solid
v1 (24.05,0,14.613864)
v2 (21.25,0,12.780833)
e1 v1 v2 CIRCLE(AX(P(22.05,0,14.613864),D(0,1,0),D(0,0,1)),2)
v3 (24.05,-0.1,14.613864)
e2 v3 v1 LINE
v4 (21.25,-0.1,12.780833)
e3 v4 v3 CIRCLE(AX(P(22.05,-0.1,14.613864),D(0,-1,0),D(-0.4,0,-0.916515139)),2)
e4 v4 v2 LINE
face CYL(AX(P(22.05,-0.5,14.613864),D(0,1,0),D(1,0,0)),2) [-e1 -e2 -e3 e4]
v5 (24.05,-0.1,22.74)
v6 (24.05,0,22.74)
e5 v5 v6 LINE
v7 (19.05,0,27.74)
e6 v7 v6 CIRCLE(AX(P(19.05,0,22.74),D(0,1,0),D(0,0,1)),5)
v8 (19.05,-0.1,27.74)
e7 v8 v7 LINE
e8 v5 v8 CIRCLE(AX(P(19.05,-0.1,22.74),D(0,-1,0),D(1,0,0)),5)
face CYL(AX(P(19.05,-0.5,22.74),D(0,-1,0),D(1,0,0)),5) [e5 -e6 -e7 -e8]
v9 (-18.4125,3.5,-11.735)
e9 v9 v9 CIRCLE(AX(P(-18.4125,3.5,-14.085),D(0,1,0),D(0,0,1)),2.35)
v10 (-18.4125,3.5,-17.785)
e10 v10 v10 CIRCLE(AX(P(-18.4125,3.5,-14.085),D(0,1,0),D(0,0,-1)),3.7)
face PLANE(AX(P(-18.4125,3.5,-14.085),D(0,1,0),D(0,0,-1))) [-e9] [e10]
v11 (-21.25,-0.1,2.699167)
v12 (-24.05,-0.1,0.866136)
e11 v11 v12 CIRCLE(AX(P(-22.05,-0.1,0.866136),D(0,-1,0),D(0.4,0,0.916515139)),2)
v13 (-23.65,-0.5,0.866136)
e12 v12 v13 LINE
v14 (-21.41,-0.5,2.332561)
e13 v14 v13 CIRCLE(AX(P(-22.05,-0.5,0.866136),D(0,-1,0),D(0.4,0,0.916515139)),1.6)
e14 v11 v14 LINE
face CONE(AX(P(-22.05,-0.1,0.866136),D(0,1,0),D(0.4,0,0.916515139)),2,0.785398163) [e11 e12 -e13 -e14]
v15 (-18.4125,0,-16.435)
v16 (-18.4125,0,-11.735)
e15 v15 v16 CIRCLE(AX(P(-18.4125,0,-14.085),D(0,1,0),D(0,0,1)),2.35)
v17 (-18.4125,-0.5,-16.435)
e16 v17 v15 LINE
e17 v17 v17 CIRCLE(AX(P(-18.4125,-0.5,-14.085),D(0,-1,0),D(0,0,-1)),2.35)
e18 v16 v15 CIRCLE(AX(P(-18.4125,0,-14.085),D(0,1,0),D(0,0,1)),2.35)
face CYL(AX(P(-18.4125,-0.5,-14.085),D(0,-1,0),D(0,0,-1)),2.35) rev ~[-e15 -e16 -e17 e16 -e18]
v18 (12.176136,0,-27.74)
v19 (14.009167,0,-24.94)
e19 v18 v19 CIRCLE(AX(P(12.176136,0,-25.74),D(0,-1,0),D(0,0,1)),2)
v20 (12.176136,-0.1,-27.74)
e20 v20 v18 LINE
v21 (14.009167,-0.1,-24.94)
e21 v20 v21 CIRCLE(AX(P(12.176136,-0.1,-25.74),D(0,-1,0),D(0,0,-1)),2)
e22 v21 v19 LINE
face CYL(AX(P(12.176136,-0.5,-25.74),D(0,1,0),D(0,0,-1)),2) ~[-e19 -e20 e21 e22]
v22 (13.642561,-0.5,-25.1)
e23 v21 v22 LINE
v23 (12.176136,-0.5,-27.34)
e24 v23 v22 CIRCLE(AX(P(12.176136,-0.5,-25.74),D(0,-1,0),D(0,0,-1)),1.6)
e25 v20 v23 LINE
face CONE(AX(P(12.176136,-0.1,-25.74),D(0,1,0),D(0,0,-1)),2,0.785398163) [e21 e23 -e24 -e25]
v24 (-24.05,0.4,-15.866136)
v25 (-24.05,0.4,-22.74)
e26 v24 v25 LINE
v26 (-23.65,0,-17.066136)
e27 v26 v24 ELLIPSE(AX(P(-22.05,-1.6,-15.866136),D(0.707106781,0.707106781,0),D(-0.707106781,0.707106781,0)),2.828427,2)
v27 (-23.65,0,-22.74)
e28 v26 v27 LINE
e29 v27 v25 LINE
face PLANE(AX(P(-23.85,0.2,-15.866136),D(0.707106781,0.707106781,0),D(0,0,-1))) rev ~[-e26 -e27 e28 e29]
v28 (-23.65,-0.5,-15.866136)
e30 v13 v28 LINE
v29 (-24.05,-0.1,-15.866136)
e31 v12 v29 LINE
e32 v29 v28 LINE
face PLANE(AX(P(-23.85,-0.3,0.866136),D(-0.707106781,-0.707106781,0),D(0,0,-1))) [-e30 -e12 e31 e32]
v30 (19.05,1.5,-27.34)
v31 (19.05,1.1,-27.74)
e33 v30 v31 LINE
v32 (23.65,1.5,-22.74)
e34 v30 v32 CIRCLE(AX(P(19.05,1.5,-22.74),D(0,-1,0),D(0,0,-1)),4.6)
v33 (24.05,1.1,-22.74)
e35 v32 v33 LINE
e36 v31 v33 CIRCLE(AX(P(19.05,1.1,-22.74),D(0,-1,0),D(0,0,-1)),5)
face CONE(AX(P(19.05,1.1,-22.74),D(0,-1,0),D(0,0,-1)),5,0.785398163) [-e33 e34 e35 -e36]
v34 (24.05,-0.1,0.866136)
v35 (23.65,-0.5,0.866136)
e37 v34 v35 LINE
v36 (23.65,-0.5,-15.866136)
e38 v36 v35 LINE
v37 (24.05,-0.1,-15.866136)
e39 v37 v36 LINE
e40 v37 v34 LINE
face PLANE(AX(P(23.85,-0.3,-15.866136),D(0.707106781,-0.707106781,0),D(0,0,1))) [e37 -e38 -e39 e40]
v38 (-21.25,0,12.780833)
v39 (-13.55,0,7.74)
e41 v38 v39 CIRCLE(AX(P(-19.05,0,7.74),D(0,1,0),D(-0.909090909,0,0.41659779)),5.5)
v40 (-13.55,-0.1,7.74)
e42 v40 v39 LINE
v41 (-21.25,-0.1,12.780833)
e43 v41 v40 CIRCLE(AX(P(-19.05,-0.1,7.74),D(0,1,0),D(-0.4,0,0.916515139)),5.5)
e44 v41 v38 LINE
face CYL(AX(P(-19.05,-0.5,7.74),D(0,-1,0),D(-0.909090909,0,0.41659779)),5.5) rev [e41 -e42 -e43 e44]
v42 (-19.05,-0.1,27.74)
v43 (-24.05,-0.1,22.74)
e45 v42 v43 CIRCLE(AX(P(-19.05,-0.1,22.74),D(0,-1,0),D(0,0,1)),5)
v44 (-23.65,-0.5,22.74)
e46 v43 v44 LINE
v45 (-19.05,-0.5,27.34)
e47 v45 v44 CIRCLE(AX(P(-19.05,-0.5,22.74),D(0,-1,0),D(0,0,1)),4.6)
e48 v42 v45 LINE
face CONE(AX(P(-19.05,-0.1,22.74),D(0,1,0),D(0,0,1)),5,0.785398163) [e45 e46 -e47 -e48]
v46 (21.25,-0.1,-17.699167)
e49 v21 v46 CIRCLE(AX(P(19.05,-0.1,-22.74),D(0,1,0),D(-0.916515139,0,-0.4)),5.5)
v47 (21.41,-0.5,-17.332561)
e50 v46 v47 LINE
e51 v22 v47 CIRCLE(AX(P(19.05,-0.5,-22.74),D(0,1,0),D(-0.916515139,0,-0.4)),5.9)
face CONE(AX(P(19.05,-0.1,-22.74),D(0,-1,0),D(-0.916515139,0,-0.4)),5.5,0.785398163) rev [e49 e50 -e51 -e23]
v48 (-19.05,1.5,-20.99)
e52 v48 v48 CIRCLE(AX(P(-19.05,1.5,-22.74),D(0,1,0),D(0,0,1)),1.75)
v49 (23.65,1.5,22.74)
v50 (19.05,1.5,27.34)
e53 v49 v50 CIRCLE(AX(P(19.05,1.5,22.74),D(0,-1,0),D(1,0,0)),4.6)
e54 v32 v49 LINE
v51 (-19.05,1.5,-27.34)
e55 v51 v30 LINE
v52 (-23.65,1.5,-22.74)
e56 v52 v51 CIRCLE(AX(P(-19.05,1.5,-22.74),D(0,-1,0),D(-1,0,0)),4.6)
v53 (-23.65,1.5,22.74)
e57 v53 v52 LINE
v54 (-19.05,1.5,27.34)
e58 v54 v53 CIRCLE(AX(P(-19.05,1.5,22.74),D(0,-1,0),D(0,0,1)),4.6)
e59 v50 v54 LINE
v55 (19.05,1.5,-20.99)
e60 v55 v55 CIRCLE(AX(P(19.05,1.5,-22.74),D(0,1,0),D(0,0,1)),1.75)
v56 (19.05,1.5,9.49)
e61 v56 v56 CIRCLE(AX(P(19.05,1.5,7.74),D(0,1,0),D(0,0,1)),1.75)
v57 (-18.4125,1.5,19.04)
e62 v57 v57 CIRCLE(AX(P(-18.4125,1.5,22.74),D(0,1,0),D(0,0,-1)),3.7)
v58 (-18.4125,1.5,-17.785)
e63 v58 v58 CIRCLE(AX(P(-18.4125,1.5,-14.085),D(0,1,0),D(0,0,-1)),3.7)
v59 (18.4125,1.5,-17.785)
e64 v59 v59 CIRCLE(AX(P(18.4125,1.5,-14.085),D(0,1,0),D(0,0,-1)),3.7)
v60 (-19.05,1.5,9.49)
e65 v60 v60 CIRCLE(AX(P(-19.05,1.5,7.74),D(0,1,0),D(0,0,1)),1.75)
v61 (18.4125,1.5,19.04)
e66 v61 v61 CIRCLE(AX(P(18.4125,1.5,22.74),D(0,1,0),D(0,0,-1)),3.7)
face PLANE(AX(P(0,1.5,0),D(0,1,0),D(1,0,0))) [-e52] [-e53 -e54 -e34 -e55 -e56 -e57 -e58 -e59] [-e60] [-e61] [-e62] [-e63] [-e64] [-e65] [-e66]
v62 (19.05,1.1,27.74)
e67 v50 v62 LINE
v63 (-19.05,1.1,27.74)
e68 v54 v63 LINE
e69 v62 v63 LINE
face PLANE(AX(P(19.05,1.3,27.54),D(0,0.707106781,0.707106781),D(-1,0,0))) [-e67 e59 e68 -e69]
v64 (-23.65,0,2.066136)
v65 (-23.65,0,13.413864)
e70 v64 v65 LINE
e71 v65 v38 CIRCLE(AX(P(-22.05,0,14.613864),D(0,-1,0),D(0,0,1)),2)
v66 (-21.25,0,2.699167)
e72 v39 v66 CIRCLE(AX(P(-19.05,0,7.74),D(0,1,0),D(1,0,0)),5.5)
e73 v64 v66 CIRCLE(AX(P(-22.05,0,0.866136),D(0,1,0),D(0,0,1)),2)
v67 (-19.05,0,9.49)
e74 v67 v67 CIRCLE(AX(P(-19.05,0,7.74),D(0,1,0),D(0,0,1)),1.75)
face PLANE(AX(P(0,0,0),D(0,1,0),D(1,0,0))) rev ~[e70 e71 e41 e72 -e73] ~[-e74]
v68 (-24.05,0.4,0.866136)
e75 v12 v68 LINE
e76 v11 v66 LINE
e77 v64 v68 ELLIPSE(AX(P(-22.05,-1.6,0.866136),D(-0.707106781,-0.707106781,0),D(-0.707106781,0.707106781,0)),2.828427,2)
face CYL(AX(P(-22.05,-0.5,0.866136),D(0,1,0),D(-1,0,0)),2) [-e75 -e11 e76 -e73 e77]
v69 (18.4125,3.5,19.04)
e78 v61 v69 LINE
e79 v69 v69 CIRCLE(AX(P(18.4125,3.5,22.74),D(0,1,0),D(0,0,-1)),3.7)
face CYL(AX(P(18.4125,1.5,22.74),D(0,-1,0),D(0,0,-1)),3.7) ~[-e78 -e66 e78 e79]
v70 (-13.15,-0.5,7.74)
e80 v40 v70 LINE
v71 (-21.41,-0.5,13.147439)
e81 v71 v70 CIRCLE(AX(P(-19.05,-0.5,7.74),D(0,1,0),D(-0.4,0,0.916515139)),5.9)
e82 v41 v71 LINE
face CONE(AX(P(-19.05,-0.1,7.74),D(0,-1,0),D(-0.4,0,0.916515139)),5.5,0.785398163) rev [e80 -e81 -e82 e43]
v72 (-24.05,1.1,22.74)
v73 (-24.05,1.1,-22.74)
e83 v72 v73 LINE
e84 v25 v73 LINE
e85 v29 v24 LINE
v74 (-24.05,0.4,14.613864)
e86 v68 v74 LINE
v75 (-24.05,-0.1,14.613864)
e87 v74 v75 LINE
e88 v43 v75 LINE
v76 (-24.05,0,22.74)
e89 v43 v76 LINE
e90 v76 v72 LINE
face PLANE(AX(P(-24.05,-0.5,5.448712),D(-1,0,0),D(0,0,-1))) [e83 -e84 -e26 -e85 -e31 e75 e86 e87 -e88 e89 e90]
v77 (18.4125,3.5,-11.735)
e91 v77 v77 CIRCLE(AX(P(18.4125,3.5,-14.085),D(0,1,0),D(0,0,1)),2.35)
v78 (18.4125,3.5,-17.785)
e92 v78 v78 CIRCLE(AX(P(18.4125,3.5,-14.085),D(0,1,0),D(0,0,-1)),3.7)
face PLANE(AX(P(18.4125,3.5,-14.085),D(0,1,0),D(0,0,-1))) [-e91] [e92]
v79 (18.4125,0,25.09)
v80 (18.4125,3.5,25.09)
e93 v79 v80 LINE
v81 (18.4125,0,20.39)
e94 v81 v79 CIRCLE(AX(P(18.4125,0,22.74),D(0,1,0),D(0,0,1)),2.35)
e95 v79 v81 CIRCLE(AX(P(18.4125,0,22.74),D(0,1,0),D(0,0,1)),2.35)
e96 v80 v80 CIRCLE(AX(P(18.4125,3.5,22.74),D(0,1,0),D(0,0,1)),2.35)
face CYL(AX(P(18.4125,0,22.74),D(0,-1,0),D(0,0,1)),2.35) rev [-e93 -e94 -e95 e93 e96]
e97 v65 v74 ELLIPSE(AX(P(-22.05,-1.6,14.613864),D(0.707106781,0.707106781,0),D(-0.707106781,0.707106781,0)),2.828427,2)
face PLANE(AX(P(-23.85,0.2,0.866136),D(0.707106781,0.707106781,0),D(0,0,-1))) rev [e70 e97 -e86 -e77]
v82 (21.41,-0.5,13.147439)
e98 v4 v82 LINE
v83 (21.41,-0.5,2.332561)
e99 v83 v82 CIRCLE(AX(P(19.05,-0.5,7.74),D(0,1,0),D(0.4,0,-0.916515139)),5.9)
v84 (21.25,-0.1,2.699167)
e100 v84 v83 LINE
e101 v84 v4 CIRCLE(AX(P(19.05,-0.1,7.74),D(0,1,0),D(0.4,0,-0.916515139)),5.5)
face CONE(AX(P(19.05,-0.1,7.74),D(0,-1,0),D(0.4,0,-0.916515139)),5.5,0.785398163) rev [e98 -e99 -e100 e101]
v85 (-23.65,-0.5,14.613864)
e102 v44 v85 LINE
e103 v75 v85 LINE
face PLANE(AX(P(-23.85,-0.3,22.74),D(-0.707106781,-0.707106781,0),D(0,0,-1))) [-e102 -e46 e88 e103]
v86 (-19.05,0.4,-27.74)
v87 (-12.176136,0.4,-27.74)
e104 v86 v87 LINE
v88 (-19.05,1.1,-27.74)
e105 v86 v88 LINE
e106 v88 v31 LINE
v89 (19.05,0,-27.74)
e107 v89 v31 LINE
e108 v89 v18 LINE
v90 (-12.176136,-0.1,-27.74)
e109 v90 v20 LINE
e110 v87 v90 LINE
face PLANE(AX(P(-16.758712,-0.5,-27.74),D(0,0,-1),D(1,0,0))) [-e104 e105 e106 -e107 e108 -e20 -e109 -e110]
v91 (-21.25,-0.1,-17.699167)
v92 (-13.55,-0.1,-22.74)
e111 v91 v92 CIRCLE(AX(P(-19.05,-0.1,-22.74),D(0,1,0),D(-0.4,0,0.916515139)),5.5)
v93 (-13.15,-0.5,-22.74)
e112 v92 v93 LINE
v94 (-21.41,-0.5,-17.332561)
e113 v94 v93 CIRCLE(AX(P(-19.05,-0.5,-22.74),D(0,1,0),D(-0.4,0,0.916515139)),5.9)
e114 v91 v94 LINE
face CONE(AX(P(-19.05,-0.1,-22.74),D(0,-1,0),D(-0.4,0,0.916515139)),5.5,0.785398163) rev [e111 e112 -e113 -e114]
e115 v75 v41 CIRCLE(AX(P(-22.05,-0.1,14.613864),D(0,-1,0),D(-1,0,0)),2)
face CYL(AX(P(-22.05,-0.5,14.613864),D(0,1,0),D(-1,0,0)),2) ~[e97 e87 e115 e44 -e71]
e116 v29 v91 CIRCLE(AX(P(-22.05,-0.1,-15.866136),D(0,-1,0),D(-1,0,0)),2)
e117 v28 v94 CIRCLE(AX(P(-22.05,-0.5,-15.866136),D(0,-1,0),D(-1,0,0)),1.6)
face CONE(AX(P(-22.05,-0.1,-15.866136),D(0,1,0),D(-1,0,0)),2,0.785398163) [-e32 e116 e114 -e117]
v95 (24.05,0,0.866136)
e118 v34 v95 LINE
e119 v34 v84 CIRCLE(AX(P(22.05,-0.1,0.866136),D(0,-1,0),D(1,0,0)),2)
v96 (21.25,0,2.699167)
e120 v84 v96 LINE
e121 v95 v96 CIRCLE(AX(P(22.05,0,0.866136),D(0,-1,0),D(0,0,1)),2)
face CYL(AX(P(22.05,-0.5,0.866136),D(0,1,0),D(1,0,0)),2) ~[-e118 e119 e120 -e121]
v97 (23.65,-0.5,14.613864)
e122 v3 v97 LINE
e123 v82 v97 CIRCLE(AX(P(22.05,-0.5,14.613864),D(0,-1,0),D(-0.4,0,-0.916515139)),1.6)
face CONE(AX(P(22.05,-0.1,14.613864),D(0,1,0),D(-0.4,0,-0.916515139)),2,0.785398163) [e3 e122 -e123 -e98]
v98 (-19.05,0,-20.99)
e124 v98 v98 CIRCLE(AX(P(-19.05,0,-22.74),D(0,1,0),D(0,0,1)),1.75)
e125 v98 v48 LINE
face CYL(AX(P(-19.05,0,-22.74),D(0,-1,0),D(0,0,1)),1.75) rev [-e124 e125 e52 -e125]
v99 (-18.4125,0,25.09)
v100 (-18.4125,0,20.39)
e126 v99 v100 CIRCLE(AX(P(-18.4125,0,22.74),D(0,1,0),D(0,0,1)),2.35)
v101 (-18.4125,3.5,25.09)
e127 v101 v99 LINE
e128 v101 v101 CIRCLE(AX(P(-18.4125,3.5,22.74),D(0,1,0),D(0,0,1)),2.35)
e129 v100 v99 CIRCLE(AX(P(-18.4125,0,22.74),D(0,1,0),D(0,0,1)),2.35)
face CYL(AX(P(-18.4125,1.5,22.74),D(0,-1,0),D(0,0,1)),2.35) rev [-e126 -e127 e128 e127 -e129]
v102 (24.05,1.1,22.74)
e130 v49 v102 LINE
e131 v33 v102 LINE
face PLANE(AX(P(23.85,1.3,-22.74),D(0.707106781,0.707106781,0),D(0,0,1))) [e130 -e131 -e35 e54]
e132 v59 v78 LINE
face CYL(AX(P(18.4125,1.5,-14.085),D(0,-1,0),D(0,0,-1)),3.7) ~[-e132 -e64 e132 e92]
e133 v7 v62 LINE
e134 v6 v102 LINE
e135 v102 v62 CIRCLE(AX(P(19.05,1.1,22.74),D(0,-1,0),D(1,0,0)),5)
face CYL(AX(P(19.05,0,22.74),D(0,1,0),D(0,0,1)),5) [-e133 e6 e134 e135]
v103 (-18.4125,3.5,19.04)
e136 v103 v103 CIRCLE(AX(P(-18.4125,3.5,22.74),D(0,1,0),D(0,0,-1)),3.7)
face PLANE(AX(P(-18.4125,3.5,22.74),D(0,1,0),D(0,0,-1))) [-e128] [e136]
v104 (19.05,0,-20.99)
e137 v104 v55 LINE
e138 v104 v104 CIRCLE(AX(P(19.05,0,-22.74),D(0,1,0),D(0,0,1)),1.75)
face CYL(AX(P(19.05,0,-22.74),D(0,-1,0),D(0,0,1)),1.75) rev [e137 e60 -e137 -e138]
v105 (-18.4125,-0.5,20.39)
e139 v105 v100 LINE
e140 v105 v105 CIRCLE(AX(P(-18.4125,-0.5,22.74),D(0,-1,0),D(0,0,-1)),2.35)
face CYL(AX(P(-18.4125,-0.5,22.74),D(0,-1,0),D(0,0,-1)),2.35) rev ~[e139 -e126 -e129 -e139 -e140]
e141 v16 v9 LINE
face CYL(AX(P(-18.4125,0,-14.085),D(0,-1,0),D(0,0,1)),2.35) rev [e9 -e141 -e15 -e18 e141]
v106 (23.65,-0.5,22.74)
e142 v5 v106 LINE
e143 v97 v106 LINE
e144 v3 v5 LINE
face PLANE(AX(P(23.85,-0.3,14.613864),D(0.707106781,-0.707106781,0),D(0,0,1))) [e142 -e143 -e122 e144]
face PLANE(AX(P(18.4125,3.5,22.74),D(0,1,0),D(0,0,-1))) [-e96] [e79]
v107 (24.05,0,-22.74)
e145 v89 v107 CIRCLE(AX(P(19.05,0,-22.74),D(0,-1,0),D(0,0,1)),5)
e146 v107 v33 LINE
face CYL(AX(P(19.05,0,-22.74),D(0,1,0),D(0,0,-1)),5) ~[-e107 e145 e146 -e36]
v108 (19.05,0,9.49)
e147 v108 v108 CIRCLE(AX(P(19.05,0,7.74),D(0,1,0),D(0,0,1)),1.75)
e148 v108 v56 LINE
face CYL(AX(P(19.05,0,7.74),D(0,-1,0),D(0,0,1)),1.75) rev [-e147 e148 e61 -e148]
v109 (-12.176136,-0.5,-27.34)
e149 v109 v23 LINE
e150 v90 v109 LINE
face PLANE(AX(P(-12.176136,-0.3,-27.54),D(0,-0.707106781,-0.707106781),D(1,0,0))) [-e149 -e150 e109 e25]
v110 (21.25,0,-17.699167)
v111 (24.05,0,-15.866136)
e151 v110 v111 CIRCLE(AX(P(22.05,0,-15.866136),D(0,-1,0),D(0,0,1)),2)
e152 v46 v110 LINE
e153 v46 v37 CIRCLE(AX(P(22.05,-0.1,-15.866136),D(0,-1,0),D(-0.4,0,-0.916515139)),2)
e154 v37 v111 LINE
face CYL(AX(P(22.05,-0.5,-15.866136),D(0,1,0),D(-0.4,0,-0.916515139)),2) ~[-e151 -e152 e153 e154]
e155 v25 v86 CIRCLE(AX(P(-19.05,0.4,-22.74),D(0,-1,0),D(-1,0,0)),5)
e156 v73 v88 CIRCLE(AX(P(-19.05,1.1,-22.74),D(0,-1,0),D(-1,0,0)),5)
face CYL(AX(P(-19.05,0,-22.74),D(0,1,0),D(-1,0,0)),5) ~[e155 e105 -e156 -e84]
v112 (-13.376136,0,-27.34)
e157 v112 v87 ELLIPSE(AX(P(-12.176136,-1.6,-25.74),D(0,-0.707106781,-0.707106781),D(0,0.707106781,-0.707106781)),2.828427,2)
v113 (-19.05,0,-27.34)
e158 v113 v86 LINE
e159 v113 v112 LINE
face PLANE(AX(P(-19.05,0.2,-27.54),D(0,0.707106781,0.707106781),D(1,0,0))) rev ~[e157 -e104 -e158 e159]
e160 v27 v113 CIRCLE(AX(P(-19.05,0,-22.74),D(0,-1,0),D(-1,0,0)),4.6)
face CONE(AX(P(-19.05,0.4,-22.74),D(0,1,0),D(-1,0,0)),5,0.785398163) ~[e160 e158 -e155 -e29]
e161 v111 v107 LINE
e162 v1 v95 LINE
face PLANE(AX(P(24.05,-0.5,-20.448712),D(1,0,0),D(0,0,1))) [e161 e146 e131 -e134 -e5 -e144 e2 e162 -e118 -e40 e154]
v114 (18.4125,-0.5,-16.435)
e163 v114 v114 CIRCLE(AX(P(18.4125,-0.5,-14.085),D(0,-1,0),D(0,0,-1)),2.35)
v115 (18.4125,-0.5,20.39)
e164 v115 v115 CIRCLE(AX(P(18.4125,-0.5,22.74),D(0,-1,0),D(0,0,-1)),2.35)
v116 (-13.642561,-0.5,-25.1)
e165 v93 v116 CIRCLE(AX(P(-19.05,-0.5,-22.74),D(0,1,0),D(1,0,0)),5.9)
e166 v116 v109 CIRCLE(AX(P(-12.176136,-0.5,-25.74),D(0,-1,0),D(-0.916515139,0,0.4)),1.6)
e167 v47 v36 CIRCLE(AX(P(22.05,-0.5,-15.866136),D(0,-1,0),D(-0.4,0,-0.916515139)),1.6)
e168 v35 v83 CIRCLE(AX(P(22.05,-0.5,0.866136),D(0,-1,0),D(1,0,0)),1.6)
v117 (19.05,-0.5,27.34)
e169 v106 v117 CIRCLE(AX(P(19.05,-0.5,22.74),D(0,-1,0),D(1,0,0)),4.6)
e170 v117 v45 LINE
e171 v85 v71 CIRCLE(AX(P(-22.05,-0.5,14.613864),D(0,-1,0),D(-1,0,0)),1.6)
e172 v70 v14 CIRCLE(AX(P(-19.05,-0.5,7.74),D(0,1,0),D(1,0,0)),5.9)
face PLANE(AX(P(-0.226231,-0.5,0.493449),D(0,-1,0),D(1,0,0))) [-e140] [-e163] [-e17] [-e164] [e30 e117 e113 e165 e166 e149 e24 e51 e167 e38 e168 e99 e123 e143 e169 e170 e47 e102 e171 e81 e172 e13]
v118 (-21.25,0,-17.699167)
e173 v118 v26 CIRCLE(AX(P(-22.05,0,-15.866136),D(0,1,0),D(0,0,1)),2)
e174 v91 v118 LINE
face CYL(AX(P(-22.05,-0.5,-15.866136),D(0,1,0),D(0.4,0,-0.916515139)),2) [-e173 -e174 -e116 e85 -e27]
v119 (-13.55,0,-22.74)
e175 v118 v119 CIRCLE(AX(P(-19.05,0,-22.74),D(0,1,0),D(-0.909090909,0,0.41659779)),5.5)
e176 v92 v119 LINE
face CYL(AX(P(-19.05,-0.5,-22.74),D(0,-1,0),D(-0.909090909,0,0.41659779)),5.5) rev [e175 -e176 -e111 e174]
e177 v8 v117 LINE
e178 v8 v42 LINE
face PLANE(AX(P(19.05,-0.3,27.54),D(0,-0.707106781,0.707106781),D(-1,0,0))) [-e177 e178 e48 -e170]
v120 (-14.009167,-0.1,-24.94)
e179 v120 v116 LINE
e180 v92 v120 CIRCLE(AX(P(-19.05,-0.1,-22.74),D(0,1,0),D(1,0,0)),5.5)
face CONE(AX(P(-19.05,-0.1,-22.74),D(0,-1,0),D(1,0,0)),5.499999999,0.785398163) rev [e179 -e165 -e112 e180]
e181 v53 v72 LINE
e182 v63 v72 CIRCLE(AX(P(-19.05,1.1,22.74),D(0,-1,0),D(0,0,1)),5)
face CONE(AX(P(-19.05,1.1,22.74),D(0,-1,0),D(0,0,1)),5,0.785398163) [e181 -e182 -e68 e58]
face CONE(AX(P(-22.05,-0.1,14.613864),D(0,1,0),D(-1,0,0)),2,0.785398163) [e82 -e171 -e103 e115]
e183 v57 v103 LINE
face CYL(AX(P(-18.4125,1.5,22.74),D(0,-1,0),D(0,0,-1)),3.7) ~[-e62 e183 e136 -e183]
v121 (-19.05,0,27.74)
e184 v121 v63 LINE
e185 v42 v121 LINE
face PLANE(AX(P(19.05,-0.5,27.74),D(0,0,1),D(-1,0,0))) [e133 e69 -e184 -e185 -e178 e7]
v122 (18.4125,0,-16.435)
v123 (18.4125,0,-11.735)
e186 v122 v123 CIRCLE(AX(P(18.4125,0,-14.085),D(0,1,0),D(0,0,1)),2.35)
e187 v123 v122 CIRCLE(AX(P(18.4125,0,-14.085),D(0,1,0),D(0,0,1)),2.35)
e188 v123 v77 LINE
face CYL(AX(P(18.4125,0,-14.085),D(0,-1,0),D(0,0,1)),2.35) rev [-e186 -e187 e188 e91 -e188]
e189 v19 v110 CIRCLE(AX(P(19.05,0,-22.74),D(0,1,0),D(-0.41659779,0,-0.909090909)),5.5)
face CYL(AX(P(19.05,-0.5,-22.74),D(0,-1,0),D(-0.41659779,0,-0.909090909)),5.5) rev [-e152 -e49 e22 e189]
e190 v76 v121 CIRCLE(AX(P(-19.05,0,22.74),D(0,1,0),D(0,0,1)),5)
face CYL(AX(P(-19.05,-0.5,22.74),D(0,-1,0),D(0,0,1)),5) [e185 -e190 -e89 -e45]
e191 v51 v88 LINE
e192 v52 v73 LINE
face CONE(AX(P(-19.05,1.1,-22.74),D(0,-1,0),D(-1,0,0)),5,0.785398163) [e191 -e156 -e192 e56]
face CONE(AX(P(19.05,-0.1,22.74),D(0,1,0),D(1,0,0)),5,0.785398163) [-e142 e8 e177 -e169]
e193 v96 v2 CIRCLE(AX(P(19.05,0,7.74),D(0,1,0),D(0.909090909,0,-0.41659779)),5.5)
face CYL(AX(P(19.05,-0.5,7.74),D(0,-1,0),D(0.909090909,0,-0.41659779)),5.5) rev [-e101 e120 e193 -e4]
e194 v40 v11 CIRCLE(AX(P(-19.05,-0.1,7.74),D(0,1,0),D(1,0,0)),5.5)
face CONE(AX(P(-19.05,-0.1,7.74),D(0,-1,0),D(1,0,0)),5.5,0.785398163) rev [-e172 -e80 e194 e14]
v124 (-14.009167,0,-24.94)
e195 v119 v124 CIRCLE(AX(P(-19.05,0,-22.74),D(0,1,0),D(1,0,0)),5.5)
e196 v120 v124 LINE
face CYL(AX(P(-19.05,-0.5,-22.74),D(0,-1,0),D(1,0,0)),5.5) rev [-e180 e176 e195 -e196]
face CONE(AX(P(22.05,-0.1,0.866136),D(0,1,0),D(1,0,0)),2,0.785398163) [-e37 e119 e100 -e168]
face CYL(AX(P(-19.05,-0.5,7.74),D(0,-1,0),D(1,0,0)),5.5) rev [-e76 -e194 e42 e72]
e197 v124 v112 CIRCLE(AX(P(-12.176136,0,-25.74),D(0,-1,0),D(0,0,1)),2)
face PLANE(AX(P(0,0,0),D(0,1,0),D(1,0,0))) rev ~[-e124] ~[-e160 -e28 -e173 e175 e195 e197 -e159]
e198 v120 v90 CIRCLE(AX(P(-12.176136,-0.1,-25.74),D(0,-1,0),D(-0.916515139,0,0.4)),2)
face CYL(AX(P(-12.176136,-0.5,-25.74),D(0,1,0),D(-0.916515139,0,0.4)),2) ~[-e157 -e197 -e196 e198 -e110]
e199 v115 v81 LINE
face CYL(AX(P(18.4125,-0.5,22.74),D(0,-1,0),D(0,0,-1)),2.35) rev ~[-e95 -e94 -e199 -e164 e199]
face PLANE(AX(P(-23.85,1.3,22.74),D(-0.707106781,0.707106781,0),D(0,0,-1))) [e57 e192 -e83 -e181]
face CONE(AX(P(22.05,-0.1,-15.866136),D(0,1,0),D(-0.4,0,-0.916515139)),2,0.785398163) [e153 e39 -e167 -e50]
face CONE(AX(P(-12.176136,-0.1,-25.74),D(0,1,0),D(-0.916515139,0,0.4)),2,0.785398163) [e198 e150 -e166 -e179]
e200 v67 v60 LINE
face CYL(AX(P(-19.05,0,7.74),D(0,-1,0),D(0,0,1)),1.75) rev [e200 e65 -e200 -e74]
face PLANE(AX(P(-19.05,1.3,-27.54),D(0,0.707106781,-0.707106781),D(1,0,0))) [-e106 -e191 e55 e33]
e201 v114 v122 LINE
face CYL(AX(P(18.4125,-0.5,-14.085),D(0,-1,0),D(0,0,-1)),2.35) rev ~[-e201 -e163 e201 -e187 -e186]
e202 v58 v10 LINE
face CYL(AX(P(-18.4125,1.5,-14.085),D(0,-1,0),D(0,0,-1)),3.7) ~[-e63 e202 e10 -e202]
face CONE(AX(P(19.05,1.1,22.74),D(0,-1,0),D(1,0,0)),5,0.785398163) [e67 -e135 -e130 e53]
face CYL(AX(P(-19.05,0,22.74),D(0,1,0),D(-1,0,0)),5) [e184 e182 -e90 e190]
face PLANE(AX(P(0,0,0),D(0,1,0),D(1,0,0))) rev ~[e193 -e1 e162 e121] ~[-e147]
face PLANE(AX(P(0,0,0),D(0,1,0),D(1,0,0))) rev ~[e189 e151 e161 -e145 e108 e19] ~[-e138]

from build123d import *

# Parameters (mm, degrees)
SKETCH1_W           = 48.1
SKETCH1_H           = 55.48
SKETCH1_R           = 1.75
SKETCH1_R_2         = 2.35
BOSS_EXTRUDE1_DEPTH = 1.5
FILLET1_R           = 5
SKETCH4_R           = 3.7
SKETCH4_R_2         = 2.35
BOSS_EXTRUDE3_DEPTH = 2
BOSS_EXTRUDE4_START = 0.5
SKETCH5_R           = 2.35
BOSS_EXTRUDE4_DEPTH = 0.5
FILLET2_R           = 2
CHAMFER2_SIZE       = 0.4


with BuildPart() as part:
    # Sketch1 → Boss-Extrude1 (new body)
    with BuildSketch(Plane(origin=(0, 0, 0), x_dir=(1, 0, 0), z_dir=(0, 1, 0))):
        Rectangle(SKETCH1_W, SKETCH1_H)
        with Locations(Location((19.05, 22.74, 0), (0, 0, 270))):
            Circle(SKETCH1_R, mode=Mode.SUBTRACT)
        with Locations(Location((-19.05, 22.74, 0), (0, 0, 270))):
            Circle(SKETCH1_R, mode=Mode.SUBTRACT)
        with Locations(Location((-19.05, -7.74, 0), (0, 0, 270))):
            Circle(SKETCH1_R, mode=Mode.SUBTRACT)
        with Locations(Location((19.05, -7.74, 0), (0, 0, 270))):
            Circle(SKETCH1_R, mode=Mode.SUBTRACT)
        with Locations(Location((18.4125, -22.74, 0), (0, 0, 270))):
            Circle(SKETCH1_R_2, mode=Mode.SUBTRACT)
        with Locations(Location((-18.4125, -22.74, 0), (0, 0, 270))):
            Circle(SKETCH1_R_2, mode=Mode.SUBTRACT)
        with Locations(Location((-18.4125, 14.085, 0), (0, 0, 270))):
            Circle(SKETCH1_R_2, mode=Mode.SUBTRACT)
        with Locations(Location((18.4125, 14.085, 0), (0, 0, 270))):
            Circle(SKETCH1_R_2, mode=Mode.SUBTRACT)
    extrude(amount=BOSS_EXTRUDE1_DEPTH)

    # Fillet1
    fillet1_edges = [part.edges().sort_by_distance(p)[0] for p in [
        (24.05, 0.75, 27.74),
        (-24.05, 0.75, 27.74),
        (-24.05, 0.75, -27.74),
        (24.05, 0.75, -27.74),
    ]]
    fillet(fillet1_edges, radius=FILLET1_R)

    # Sketch4 → Boss-Extrude3 (add)
    # profile 1 of 4: a face of its own
    with BuildSketch(Plane(origin=(0, 1.5, 0), x_dir=(1, 0, 0), z_dir=(0, 1, 0))):
        with Locations(Location((-18.4125, -22.74, 0), (0, 0, 90))):
            Circle(SKETCH4_R)
        with Locations(Location((-18.4125, -22.74, 0), (0, 0, 270))):
            Circle(SKETCH4_R_2, mode=Mode.SUBTRACT)
    # profile 2 of 4: a face of its own
    with BuildSketch(Plane(origin=(0, 1.5, 0), x_dir=(1, 0, 0), z_dir=(0, 1, 0))):
        with Locations(Location((18.4125, -22.74, 0), (0, 0, 90))):
            Circle(SKETCH4_R)
        with Locations(Location((18.4125, -22.74, 0), (0, 0, 270))):
            Circle(SKETCH4_R_2, mode=Mode.SUBTRACT)
    # profile 3 of 4: a face of its own
    with BuildSketch(Plane(origin=(0, 1.5, 0), x_dir=(1, 0, 0), z_dir=(0, 1, 0))):
        with Locations(Location((18.4125, 14.085, 0), (0, 0, 90))):
            Circle(SKETCH4_R)
        with Locations(Location((18.4125, 14.085, 0), (0, 0, 270))):
            Circle(SKETCH4_R_2, mode=Mode.SUBTRACT)
    # profile 4 of 4: a face of its own
    with BuildSketch(Plane(origin=(0, 1.5, 0), x_dir=(1, 0, 0), z_dir=(0, 1, 0))):
        with Locations(Location((-18.4125, 14.085, 0), (0, 0, 90))):
            Circle(SKETCH4_R)
        with Locations(Location((-18.4125, 14.085, 0), (0, 0, 270))):
            Circle(SKETCH4_R_2, mode=Mode.SUBTRACT)
    extrude(amount=BOSS_EXTRUDE3_DEPTH)

    # Sketch5 → Boss-Extrude4 (add)
    with BuildSketch(Plane.XZ.offset(BOSS_EXTRUDE4_START)):
        with BuildLine():
            ThreePointArc((-13.55, -22.74), (-14.421172764, -25.710514841), (-16.758712153, -27.74))
            Line((-16.758712153, -27.74), (16.758712153, -27.74))
            ThreePointArc((16.758712153, -27.74), (15.160912703, -18.850912703), (24.05, -20.448712153))
            Line((24.05, -20.448712153), (24.05, 5.448712153))
            ThreePointArc((24.05, 5.448712153), (13.55, 7.74), (24.05, 10.031287847))
            Line((24.05, 10.031287847), (24.05, 22.74))
            ThreePointArc((24.05, 22.74), (22.585533906, 26.275533906), (19.05, 27.74))
            Line((19.05, 27.74), (-19.05, 27.74))
            ThreePointArc((-19.05, 27.74), (-22.585533906, 26.275533906), (-24.05, 22.74))
            Line((-24.05, 22.74), (-24.05, 10.031287847))
            ThreePointArc((-24.05, 10.031287847), (-17.87739606, 13.113546315), (-13.55, 7.74))
            ThreePointArc((-13.55, 7.74), (-17.87739606, 2.366453685), (-24.05, 5.448712153))
            Line((-24.05, 5.448712153), (-24.05, -20.448712153))
            ThreePointArc((-24.05, -20.448712153), (-17.87739606, -17.366453685), (-13.55, -22.74))
        make_face()
        with Locations(Location((-18.4125, -14.085, 0), (0, 0, 270))):
            Circle(SKETCH5_R, mode=Mode.SUBTRACT)
        with Locations(Location((18.4125, -14.085, 0), (0, 0, 270))):
            Circle(SKETCH5_R, mode=Mode.SUBTRACT)
        with Locations(Location((-18.4125, 22.74, 0), (0, 0, 270))):
            Circle(SKETCH5_R, mode=Mode.SUBTRACT)
        with Locations(Location((18.4125, 22.74, 0), (0, 0, 270))):
            Circle(SKETCH5_R, mode=Mode.SUBTRACT)
    extrude(amount=-BOSS_EXTRUDE4_DEPTH)

    # Fillet2
    fillet2_edges = [part.edges().sort_by_distance(p)[0] for p in [
        (-16.758712153, -0.25, -27.74),
        (16.758712153, -0.25, -27.74),
        (24.05, -0.25, -20.448712153),
        (24.05, -0.25, 5.448712153),
        (24.05, -0.25, 10.031287847),
        (-24.05, -0.25, 10.031287847),
        (-24.05, -0.25, 5.448712153),
        (-24.05, -0.25, -20.448712153),
    ]]
    fillet(fillet2_edges, radius=FILLET2_R)

    # Chamfer2
    chamfer2_edges = [part.edges().sort_by_distance(p)[0] for p in [
        (22.585533906, -0.5, 26.275533906),
        (0, -0.5, 27.74),
        (-22.585533906, -0.5, 26.275533906),
        (-24.05, -0.5, 18.676931771),
        (13.55, -0.5, 7.74),
        (24.05, -0.5, 18.676931771),
        (24.05, -0.5, -7.5),
        (-15.160912703, -0.5, -18.850912703),
        (0, -0.5, -27.74),
        (15.160912703, -0.5, -18.850912703),
        (-13.55, -0.5, 7.74),
        (-24.05, -0.5, -7.5),
        (-23.145445115, -0.5, 12.940543489),
        (-23.145445115, -0.5, 2.539456511),
        (-13.849456511, -0.5, -26.835445115),
        (-23.145445115, -0.5, -17.539456511),
        (23.145445115, -0.5, -17.539456511),
        (13.849456511, -0.5, -26.835445115),
        (23.145445115, -0.5, 12.940543489),
        (23.145445115, -0.5, 2.539456511),
        (0, 1.5, -27.74),
        (-24.05, 0, -19.303068229),
        (-22.585533906, 0, -26.275533906),
        (24.05, 1.5, 0),
        (-24.05, 1.5, 0),
        (0, 1.5, 27.74),
        (-22.585533906, 1.5, -26.275533906),
        (-22.585533906, 1.5, 26.275533906),
        (22.585533906, 1.5, 26.275533906),
        (22.585533906, 1.5, -26.275533906),
        (-15.613068229, 0, -27.74),
        (-24.05, 0, 7.74),
    ]]
    chamfer(chamfer2_edges, length=CHAMFER2_SIZE)


solid = part.part
